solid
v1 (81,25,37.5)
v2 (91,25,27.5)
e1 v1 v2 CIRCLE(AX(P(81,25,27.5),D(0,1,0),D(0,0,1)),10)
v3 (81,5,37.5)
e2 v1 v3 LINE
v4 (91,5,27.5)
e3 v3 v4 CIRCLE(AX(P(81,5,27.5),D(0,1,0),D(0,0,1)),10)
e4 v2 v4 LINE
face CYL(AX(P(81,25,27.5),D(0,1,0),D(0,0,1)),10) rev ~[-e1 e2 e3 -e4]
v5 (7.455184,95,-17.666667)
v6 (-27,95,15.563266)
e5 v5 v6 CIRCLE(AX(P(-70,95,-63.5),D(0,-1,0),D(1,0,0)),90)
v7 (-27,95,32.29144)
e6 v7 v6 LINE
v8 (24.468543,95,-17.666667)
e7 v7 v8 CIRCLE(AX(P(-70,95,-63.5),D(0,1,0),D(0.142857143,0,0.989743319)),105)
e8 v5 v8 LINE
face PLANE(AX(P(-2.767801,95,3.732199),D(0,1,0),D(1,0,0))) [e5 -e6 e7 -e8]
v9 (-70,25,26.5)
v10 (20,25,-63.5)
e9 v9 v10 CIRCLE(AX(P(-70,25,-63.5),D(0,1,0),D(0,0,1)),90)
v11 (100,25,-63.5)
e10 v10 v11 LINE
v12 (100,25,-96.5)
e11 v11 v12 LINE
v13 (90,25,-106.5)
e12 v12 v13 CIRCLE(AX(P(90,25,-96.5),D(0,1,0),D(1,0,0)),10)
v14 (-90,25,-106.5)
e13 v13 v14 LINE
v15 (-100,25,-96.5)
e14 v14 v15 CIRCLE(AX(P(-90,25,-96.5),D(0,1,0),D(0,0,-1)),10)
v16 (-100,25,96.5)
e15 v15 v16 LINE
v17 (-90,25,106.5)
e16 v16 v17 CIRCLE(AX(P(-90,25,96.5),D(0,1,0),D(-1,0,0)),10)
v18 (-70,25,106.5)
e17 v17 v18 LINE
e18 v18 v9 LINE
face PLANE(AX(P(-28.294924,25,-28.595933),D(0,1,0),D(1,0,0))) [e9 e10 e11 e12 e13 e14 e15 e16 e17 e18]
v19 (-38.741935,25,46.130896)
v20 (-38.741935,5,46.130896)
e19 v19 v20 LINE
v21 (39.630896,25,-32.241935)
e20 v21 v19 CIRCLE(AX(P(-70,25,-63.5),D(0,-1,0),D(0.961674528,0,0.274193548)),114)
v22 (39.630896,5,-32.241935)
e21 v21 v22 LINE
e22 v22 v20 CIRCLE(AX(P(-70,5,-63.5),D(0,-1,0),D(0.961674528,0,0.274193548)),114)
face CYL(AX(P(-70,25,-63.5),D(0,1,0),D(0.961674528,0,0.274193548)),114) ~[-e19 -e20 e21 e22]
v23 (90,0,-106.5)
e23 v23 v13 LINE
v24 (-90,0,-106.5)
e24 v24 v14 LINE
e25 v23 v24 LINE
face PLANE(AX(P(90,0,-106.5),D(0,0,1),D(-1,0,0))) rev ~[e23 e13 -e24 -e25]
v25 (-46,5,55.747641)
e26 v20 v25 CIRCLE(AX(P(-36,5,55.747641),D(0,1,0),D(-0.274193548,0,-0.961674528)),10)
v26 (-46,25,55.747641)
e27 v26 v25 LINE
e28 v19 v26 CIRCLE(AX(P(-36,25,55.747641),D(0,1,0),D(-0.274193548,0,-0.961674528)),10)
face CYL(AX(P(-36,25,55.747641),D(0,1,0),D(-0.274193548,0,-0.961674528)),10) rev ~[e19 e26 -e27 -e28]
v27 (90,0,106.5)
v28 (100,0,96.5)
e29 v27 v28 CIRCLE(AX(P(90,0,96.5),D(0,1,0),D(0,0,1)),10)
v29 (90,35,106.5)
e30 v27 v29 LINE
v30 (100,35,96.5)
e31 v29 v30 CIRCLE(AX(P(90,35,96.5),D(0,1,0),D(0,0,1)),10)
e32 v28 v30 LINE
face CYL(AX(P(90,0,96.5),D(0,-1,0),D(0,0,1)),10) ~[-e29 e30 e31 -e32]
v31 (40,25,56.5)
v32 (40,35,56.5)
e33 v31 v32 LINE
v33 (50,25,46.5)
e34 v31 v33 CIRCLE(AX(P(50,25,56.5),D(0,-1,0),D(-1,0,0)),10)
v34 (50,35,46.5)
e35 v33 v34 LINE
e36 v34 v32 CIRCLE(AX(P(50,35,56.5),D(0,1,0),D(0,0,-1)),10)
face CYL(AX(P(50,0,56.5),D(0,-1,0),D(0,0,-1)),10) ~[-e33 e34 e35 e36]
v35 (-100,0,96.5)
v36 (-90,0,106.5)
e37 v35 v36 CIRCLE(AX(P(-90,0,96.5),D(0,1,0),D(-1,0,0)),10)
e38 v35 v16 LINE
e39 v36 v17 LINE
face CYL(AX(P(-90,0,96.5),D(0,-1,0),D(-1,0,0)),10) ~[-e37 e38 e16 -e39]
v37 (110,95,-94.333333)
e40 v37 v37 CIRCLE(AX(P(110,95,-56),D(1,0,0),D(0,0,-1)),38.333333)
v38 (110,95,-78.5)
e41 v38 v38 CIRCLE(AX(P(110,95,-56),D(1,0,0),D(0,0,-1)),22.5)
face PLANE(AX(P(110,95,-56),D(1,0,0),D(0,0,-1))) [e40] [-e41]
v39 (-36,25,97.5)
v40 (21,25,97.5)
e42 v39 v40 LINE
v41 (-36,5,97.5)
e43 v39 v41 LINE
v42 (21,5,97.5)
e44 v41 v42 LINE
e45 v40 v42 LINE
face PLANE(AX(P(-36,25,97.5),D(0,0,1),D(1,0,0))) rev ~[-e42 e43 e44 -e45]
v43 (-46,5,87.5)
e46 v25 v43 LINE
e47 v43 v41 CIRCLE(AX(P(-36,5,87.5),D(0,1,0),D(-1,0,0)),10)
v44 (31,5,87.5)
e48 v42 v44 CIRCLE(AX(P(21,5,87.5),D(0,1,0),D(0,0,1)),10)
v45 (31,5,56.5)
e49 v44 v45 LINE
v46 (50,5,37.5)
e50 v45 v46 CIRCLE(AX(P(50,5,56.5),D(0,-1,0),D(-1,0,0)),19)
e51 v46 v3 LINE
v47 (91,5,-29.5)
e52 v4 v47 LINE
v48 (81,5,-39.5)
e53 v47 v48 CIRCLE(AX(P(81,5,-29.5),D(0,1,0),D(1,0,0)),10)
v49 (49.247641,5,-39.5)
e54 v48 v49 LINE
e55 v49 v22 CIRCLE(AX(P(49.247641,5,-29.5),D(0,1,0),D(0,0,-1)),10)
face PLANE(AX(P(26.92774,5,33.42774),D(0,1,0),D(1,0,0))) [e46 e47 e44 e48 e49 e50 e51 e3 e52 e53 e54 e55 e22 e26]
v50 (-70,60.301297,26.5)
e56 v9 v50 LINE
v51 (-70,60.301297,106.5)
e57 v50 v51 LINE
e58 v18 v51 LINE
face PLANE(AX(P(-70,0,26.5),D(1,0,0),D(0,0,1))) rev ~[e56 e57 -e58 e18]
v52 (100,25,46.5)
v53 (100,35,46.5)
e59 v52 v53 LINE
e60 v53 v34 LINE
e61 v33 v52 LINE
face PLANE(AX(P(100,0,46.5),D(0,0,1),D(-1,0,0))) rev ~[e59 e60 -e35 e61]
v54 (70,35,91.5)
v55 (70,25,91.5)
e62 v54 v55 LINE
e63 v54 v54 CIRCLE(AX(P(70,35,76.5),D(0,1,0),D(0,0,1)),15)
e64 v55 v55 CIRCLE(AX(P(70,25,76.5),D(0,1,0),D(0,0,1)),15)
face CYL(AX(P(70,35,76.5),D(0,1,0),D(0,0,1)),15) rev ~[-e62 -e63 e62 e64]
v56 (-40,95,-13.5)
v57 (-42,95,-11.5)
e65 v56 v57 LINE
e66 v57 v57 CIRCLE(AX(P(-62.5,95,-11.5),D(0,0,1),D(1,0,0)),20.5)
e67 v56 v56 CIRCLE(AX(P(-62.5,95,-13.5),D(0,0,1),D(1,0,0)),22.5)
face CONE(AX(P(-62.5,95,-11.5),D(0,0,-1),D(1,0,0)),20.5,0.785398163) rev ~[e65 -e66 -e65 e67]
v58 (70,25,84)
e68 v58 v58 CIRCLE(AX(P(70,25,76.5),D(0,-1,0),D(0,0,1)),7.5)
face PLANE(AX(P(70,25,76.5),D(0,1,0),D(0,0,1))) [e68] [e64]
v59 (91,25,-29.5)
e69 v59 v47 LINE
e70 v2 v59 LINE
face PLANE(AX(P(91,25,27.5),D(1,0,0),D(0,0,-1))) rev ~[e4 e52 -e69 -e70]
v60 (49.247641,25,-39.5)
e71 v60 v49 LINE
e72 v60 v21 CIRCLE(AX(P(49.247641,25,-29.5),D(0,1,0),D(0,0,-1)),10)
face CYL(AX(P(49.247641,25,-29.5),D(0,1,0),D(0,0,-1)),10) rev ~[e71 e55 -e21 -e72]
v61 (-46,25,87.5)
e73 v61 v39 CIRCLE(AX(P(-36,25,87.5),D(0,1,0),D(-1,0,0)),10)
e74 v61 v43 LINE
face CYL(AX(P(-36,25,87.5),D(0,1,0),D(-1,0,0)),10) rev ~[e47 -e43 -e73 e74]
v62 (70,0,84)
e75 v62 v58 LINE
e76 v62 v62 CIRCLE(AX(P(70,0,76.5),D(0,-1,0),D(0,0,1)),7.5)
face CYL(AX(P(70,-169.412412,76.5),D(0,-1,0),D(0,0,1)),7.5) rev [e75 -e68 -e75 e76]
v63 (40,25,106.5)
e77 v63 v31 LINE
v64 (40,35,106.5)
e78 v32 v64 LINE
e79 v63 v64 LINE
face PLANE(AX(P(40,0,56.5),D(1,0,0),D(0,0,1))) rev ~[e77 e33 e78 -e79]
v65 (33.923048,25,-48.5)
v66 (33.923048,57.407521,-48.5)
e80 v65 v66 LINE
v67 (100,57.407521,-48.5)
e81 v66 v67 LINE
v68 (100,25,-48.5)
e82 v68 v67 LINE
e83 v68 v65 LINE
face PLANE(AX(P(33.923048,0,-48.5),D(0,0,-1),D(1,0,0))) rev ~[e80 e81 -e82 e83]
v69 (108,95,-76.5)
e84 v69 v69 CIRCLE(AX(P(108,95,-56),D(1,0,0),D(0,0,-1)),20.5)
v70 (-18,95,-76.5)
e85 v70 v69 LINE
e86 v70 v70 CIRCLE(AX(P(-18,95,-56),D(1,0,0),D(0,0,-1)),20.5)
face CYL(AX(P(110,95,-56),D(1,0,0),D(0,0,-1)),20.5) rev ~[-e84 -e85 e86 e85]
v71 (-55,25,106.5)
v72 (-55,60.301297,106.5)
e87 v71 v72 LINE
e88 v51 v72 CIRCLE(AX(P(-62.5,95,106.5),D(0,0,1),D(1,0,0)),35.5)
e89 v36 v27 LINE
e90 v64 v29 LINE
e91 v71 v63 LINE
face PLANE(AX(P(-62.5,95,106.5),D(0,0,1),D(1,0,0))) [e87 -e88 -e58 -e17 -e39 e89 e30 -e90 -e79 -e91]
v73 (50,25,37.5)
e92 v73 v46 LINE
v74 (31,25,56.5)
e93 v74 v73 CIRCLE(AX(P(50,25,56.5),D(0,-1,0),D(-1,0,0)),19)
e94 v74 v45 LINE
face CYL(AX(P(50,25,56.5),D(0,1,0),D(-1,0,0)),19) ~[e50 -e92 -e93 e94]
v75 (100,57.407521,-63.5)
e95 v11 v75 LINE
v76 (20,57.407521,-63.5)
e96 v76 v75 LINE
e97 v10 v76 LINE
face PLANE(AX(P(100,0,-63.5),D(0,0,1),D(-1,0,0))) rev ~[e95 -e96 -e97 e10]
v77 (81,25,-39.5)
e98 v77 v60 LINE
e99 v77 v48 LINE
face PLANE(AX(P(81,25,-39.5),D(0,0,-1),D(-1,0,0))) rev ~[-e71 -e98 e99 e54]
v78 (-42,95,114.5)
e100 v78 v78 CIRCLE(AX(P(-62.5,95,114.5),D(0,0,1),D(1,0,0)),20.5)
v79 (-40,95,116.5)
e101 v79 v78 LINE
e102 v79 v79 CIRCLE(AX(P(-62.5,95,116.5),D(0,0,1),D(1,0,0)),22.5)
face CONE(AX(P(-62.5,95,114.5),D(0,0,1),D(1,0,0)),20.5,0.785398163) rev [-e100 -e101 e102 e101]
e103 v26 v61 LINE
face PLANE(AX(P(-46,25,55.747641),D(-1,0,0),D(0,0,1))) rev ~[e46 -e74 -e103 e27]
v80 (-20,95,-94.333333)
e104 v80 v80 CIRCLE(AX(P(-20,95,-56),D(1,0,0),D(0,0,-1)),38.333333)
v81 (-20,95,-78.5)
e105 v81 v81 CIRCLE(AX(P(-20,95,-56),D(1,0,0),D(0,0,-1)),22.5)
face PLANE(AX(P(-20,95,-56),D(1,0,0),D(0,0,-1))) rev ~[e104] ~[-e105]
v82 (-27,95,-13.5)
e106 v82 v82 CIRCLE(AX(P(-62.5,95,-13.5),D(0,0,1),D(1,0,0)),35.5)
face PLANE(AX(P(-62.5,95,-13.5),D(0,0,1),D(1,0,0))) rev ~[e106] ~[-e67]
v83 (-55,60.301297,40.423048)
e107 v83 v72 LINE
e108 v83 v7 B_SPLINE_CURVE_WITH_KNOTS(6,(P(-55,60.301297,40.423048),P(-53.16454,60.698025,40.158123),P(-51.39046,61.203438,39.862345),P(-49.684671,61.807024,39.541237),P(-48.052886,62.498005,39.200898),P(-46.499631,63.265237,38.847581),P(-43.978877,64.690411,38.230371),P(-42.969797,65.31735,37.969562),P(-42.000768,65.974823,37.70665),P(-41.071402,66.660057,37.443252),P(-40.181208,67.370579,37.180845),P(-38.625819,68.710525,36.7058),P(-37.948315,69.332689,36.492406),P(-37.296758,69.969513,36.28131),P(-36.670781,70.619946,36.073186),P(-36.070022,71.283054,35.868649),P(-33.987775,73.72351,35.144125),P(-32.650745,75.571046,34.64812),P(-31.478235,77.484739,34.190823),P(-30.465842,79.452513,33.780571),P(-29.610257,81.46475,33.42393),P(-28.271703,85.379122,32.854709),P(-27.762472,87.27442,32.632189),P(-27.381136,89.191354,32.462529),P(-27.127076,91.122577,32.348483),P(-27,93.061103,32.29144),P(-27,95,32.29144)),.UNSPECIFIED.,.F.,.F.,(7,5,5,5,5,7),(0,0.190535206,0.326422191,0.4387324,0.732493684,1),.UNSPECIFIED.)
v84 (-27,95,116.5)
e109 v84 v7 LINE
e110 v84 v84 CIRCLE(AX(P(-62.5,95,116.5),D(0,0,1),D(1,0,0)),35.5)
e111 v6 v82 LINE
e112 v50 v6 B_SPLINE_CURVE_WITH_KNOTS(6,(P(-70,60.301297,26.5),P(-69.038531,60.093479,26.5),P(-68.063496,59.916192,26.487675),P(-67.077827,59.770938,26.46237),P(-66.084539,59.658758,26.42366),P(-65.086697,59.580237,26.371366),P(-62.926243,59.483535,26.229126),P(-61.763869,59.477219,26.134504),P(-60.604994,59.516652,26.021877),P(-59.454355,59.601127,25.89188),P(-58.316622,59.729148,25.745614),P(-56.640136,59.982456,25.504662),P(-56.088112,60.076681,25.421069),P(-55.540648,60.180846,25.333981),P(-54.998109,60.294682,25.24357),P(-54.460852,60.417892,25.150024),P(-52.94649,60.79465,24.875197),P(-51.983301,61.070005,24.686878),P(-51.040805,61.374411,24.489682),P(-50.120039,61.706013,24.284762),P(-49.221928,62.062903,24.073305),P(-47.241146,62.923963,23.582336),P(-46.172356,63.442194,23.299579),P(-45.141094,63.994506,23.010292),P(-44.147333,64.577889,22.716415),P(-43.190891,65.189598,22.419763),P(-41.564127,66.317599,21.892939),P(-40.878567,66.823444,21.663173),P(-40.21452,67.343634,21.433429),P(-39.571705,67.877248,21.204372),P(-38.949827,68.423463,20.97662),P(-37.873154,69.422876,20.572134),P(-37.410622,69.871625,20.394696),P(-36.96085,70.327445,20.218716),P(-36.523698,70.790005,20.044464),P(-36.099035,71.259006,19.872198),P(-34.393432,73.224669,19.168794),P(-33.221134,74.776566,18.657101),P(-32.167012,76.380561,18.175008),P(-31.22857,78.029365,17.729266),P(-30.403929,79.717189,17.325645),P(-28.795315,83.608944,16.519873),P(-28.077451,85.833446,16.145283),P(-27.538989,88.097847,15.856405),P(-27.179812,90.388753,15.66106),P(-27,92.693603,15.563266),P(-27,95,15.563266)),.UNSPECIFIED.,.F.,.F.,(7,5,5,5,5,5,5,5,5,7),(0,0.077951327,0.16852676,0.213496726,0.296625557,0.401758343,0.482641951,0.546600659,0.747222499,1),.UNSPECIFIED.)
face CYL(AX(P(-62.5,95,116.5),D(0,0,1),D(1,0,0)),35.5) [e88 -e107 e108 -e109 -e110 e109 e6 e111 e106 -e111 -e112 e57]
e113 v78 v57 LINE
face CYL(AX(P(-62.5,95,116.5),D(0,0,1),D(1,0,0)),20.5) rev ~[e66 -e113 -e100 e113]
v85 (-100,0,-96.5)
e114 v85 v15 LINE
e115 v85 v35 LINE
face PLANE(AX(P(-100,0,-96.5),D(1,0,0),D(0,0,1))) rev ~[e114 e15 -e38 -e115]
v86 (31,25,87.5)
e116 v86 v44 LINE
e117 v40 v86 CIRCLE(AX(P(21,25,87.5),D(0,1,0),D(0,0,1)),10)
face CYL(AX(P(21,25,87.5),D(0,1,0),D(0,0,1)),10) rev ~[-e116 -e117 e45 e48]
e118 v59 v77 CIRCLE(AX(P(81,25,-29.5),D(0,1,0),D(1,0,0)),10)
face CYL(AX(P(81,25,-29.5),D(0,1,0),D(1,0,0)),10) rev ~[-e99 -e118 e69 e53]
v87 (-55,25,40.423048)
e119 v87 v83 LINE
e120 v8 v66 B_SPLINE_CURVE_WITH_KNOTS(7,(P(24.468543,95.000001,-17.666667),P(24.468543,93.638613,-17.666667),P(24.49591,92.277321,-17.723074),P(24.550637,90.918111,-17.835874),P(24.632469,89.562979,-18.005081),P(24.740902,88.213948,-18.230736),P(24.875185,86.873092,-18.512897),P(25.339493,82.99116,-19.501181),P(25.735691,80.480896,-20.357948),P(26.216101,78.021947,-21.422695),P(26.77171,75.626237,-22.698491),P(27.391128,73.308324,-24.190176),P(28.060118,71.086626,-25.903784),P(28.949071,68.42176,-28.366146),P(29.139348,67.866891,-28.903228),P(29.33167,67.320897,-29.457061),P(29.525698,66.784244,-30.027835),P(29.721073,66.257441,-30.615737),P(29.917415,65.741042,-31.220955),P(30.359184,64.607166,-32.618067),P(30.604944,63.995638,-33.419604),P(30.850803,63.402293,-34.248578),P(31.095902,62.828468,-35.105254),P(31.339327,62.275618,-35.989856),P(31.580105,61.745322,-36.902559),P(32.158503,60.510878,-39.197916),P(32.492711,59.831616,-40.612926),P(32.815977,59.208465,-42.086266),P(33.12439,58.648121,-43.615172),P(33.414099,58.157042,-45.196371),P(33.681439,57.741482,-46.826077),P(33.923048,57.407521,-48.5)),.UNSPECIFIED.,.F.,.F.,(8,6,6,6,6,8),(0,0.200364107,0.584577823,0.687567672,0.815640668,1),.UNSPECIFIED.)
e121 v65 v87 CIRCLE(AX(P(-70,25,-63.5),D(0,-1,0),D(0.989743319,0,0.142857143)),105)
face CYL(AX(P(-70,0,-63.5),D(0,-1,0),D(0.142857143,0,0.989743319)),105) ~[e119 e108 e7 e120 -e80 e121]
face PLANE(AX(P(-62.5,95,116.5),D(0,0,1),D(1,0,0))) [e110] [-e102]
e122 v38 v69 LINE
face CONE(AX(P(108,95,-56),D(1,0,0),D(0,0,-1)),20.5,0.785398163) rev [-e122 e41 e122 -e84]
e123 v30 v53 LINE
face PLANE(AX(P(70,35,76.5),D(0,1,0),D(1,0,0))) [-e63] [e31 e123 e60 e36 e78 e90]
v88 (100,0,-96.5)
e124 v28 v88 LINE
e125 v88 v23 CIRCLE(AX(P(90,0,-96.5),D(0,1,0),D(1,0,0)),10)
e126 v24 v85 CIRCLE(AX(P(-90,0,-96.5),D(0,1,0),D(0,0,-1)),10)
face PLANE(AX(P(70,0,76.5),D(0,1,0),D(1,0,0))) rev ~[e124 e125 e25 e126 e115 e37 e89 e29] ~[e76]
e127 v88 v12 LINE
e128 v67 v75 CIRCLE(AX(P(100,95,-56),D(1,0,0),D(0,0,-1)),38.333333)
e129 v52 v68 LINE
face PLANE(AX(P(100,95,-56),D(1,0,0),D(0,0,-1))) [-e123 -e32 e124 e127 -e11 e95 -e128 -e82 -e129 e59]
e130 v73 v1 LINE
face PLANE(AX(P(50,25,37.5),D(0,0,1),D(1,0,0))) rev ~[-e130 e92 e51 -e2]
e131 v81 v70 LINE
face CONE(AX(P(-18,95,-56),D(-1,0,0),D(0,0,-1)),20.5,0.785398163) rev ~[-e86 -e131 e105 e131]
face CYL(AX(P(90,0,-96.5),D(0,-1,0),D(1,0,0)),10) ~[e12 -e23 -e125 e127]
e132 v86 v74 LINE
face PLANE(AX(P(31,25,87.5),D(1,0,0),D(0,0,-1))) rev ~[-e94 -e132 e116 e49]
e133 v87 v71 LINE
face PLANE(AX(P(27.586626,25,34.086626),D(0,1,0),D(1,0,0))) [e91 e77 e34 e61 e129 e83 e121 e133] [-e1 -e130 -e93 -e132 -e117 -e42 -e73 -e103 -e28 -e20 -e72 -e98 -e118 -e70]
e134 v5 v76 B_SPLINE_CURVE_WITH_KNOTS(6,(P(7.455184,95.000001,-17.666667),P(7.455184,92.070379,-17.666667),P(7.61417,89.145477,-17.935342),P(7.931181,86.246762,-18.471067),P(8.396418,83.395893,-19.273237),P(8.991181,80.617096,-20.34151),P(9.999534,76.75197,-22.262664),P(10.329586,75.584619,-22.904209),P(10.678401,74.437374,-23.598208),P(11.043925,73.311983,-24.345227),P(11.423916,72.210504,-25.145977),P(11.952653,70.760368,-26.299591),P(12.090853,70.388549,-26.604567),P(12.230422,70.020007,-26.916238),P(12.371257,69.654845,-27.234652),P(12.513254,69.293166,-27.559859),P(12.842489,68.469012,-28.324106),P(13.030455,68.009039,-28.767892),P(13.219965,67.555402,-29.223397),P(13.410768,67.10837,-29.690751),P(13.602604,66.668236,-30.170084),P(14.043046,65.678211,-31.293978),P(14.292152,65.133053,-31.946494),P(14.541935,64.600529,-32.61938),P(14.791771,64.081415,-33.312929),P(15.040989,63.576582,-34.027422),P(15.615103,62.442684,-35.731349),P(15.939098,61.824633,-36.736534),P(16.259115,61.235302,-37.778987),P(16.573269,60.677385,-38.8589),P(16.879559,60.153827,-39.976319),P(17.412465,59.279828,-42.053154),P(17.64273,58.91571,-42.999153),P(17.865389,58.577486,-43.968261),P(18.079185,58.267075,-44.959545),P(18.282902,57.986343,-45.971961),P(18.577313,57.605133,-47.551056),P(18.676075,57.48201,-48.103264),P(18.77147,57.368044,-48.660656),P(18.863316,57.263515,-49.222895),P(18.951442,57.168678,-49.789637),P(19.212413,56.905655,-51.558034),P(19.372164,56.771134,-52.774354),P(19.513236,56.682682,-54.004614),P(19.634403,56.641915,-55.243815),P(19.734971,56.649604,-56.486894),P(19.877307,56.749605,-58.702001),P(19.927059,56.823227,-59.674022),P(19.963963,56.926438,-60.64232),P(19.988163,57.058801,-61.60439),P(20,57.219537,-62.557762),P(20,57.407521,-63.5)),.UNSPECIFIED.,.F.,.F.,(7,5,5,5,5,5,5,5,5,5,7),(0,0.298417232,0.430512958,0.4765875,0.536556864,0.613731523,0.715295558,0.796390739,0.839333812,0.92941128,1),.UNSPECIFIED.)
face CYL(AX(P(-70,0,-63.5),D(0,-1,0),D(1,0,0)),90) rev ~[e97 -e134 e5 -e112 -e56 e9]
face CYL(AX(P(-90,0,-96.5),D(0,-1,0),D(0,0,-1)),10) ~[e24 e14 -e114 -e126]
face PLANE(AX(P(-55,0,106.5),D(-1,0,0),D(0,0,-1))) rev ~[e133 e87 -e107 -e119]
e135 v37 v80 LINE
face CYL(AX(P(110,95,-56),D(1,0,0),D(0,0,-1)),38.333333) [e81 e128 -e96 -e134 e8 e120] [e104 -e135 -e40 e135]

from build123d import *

# Parameters (mm, degrees)
BOSS_EXTRUDE1_DEPTH     = 95
BOSS_EXTRUDE2_DEPTH     = 25
BOSS_EXTRUDE3_DEPTH     = 35
CUT_EXTRUDE1_DEPTH      = 20
SKETCH4_R               = 38.333333333
SKETCH4_R_2             = 20.5
BOSS_EXTRUDE4_DEPTH     = 120
SKETCH5_R               = 35.5
SKETCH5_R_2             = 20.5
BOSS_EXTRUDE5_DEPTH     = 120
BOSS_EXTRUDE6_START     = 10
SKETCH6_R               = 35.5
SKETCH6_R_2             = 20.5
BOSS_EXTRUDE6_DEPTH     = 10
BOSS_EXTRUDE7_START     = 10
SKETCH7_R               = 38.333333333
SKETCH7_R_2             = 20.5
BOSS_EXTRUDE7_DEPTH     = 10
SKETCH8_R               = 20.5
CUT_EXTRUDE2_DEPTH      = 283.146731022
SKETCH9_R               = 20.5
CUT_EXTRUDE3_DEPTH      = 275.681684551
SKETCH10_R              = 15
CUT_EXTRUDE4_DEPTH      = 10
CUT_EXTRUDE5_DEPTH      = 194.412412161
CUT_EXTRUDE5_DEPTH_BACK = 194.412412161
SKETCH11_R              = 7.5
CHAMFER1_SIZE           = 2


with BuildPart() as part:
    # Sketch1 → Boss-Extrude1 (new body)
    with BuildSketch(Plane(origin=(0, 0, 0), x_dir=(1, 0, 0), z_dir=(0, 1, 0))):
        with BuildLine():
            Line((-70, -26.5), (-70, -106.5))
            Line((-70, -106.5), (-55, -106.5))
            Line((-55, -106.5), (-55, -40.423048454))
            ThreePointArc((-55, -40.423048454), (4.246212025, -10.746212025), (33.923048454, 48.5))
            Line((33.923048454, 48.5), (100, 48.5))
            Line((100, 48.5), (100, 63.5))
            Line((100, 63.5), (20, 63.5))
            ThreePointArc((20, 63.5), (-6.360389693, -0.139610307), (-70, -26.5))
        make_face()
    extrude(amount=BOSS_EXTRUDE1_DEPTH)

    # Sketch1<3> → Boss-Extrude2 (add)
    with BuildSketch(Plane(origin=(0, 0, 0), x_dir=(1, 0, 0), z_dir=(0, 1, 0))):
        with BuildLine():
            Line((-90, -106.5), (-70, -106.5))
            Line((-70, -106.5), (-70, -26.5))
            ThreePointArc((-70, -26.5), (-6.360389693, -0.139610307), (20, 63.5))
            Line((20, 63.5), (100, 63.5))
            Line((100, 63.5), (100, 96.5))
            ThreePointArc((100, 96.5), (97.071067812, 103.571067812), (90, 106.5))
            Line((90, 106.5), (-90, 106.5))
            ThreePointArc((-90, 106.5), (-97.071067812, 103.571067812), (-100, 96.5))
            Line((-100, 96.5), (-100, -96.5))
            ThreePointArc((-100, -96.5), (-97.071067812, -103.571067812), (-90, -106.5))
        make_face()
        with BuildLine():
            Line((-55, -40.423048454), (-55, -106.5))
            Line((-55, -106.5), (40, -106.5))
            Line((40, -106.5), (40, -56.5))
            ThreePointArc((40, -56.5), (42.928932188, -49.428932188), (50, -46.5))
            Line((50, -46.5), (100, -46.5))
            Line((100, -46.5), (100, 48.5))
            Line((100, 48.5), (33.923048454, 48.5))
            ThreePointArc((33.923048454, 48.5), (4.246212025, -10.746212025), (-55, -40.423048454))
        make_face()
    extrude(amount=BOSS_EXTRUDE2_DEPTH)

    # Sketch1<4> → Boss-Extrude3 (add)
    with BuildSketch(Plane(origin=(0, 0, 0), x_dir=(1, 0, 0), z_dir=(0, 1, 0))):
        with BuildLine():
            Line((40, -56.5), (40, -106.5))
            Line((40, -106.5), (90, -106.5))
            ThreePointArc((90, -106.5), (97.071067812, -103.571067812), (100, -96.5))
            Line((100, -96.5), (100, -46.5))
            Line((100, -46.5), (50, -46.5))
            ThreePointArc((50, -46.5), (42.928932188, -49.428932188), (40, -56.5))
        make_face()
    extrude(amount=BOSS_EXTRUDE3_DEPTH)

    # Sketch2 → Cut-Extrude1 (cut)
    with BuildSketch(Plane(origin=(0, 25, 0), x_dir=(1, 0, 0), z_dir=(0, 1, 0))):
        with BuildLine():
            Line((81, 39.5), (49.247641486, 39.5))
            ThreePointArc((49.247641486, 39.5), (43.223496519, 37.481834214), (39.630896205, 32.241935484))
            ThreePointArc((39.630896205, 32.241935484), (10.610173055, -17.110173055), (-38.741935484, -46.130896205))
            ThreePointArc((-38.741935484, -46.130896205), (-43.981834214, -49.723496519), (-46, -55.747641486))
            Line((-46, -55.747641486), (-46, -87.5))
            ThreePointArc((-46, -87.5), (-43.071067812, -94.571067812), (-36, -97.5))
            Line((-36, -97.5), (21, -97.5))
            ThreePointArc((21, -97.5), (28.071067812, -94.571067812), (31, -87.5))
            Line((31, -87.5), (31, -56.5))
            ThreePointArc((31, -56.5), (36.564971157, -43.064971157), (50, -37.5))
            Line((50, -37.5), (81, -37.5))
            ThreePointArc((81, -37.5), (88.071067812, -34.571067812), (91, -27.5))
            Line((91, -27.5), (91, 29.5))
            ThreePointArc((91, 29.5), (88.071067812, 36.571067812), (81, 39.5))
        make_face()
    extrude(amount=-CUT_EXTRUDE1_DEPTH, mode=Mode.SUBTRACT)

    # Sketch4 → Boss-Extrude4 (add)
    with BuildSketch(Plane(origin=(100, 0, 0), x_dir=(0, 0, -1), z_dir=(1, 0, 0))):
        with Locations((56, 95)):
            Circle(SKETCH4_R)
        with Locations((56, 95)):
            Circle(SKETCH4_R_2, mode=Mode.SUBTRACT)
    extrude(amount=-BOSS_EXTRUDE4_DEPTH)

    # Sketch5 → Boss-Extrude5 (add)
    with BuildSketch(Plane.XY.offset(106.5)):
        with Locations((-62.5, 95)):
            Circle(SKETCH5_R)
        with Locations((-62.5, 95)):
            Circle(SKETCH5_R_2, mode=Mode.SUBTRACT)
    extrude(amount=-BOSS_EXTRUDE5_DEPTH)

    # Sketch6 → Boss-Extrude6 (add)
    with BuildSketch(Plane.XY.offset(106.5).offset(BOSS_EXTRUDE6_START)):
        with Locations((-62.5, 95)):
            Circle(SKETCH6_R)
        with Locations((-62.5, 95)):
            Circle(SKETCH6_R_2, mode=Mode.SUBTRACT)
    extrude(amount=-BOSS_EXTRUDE6_DEPTH)

    # Sketch7 → Boss-Extrude7 (add)
    with BuildSketch(Plane(origin=(100, 0, 0), x_dir=(0, 0, -1), z_dir=(1, 0, 0)).offset(BOSS_EXTRUDE7_START)):
        with Locations((56, 95)):
            Circle(SKETCH7_R)
        with Locations((56, 95)):
            Circle(SKETCH7_R_2, mode=Mode.SUBTRACT)
    extrude(amount=-BOSS_EXTRUDE7_DEPTH)

    # Sketch8 → Cut-Extrude2 (cut, through all)
    with BuildSketch(Plane.XY.offset(116.5)):
        with Locations((-62.5, 95)):
            Circle(SKETCH8_R)
    extrude(amount=-CUT_EXTRUDE2_DEPTH, mode=Mode.SUBTRACT)

    # Sketch9 → Cut-Extrude3 (cut, through all)
    with BuildSketch(Plane(origin=(110, 0, 0), x_dir=(0, 0, -1), z_dir=(1, 0, 0))):
        with Locations((56, 95)):
            Circle(SKETCH9_R)
    extrude(amount=-CUT_EXTRUDE3_DEPTH, mode=Mode.SUBTRACT)

    # Sketch10 → Cut-Extrude4 (cut)
    with BuildSketch(Plane(origin=(0, 35, 0), x_dir=(1, 0, 0), z_dir=(0, 1, 0))):
        with Locations((70, -76.5)):
            Circle(SKETCH10_R)
    extrude(amount=-CUT_EXTRUDE4_DEPTH, mode=Mode.SUBTRACT)

    # Sketch11 → Cut-Extrude5 (cut, two sides: drawn at the far end of the back side and taken through both)
    with BuildSketch(Plane(origin=(0, 25, 0), x_dir=(1, 0, 0), z_dir=(0, 1, 0)).offset(-CUT_EXTRUDE5_DEPTH_BACK)):
        with Locations((70, -76.5)):
            Circle(SKETCH11_R)
    extrude(amount=CUT_EXTRUDE5_DEPTH + CUT_EXTRUDE5_DEPTH_BACK, mode=Mode.SUBTRACT)

    # Chamfer1
    chamfer1_edges = [part.edges().sort_by_distance(p)[0] for p in [
        (110, 95, -35.5),
        (-20, 95, -35.5),
        (-83, 95, -13.5),
        (-83, 95, 116.5),
    ]]
    chamfer(chamfer1_edges, length=CHAMFER1_SIZE)


solid = part.part
